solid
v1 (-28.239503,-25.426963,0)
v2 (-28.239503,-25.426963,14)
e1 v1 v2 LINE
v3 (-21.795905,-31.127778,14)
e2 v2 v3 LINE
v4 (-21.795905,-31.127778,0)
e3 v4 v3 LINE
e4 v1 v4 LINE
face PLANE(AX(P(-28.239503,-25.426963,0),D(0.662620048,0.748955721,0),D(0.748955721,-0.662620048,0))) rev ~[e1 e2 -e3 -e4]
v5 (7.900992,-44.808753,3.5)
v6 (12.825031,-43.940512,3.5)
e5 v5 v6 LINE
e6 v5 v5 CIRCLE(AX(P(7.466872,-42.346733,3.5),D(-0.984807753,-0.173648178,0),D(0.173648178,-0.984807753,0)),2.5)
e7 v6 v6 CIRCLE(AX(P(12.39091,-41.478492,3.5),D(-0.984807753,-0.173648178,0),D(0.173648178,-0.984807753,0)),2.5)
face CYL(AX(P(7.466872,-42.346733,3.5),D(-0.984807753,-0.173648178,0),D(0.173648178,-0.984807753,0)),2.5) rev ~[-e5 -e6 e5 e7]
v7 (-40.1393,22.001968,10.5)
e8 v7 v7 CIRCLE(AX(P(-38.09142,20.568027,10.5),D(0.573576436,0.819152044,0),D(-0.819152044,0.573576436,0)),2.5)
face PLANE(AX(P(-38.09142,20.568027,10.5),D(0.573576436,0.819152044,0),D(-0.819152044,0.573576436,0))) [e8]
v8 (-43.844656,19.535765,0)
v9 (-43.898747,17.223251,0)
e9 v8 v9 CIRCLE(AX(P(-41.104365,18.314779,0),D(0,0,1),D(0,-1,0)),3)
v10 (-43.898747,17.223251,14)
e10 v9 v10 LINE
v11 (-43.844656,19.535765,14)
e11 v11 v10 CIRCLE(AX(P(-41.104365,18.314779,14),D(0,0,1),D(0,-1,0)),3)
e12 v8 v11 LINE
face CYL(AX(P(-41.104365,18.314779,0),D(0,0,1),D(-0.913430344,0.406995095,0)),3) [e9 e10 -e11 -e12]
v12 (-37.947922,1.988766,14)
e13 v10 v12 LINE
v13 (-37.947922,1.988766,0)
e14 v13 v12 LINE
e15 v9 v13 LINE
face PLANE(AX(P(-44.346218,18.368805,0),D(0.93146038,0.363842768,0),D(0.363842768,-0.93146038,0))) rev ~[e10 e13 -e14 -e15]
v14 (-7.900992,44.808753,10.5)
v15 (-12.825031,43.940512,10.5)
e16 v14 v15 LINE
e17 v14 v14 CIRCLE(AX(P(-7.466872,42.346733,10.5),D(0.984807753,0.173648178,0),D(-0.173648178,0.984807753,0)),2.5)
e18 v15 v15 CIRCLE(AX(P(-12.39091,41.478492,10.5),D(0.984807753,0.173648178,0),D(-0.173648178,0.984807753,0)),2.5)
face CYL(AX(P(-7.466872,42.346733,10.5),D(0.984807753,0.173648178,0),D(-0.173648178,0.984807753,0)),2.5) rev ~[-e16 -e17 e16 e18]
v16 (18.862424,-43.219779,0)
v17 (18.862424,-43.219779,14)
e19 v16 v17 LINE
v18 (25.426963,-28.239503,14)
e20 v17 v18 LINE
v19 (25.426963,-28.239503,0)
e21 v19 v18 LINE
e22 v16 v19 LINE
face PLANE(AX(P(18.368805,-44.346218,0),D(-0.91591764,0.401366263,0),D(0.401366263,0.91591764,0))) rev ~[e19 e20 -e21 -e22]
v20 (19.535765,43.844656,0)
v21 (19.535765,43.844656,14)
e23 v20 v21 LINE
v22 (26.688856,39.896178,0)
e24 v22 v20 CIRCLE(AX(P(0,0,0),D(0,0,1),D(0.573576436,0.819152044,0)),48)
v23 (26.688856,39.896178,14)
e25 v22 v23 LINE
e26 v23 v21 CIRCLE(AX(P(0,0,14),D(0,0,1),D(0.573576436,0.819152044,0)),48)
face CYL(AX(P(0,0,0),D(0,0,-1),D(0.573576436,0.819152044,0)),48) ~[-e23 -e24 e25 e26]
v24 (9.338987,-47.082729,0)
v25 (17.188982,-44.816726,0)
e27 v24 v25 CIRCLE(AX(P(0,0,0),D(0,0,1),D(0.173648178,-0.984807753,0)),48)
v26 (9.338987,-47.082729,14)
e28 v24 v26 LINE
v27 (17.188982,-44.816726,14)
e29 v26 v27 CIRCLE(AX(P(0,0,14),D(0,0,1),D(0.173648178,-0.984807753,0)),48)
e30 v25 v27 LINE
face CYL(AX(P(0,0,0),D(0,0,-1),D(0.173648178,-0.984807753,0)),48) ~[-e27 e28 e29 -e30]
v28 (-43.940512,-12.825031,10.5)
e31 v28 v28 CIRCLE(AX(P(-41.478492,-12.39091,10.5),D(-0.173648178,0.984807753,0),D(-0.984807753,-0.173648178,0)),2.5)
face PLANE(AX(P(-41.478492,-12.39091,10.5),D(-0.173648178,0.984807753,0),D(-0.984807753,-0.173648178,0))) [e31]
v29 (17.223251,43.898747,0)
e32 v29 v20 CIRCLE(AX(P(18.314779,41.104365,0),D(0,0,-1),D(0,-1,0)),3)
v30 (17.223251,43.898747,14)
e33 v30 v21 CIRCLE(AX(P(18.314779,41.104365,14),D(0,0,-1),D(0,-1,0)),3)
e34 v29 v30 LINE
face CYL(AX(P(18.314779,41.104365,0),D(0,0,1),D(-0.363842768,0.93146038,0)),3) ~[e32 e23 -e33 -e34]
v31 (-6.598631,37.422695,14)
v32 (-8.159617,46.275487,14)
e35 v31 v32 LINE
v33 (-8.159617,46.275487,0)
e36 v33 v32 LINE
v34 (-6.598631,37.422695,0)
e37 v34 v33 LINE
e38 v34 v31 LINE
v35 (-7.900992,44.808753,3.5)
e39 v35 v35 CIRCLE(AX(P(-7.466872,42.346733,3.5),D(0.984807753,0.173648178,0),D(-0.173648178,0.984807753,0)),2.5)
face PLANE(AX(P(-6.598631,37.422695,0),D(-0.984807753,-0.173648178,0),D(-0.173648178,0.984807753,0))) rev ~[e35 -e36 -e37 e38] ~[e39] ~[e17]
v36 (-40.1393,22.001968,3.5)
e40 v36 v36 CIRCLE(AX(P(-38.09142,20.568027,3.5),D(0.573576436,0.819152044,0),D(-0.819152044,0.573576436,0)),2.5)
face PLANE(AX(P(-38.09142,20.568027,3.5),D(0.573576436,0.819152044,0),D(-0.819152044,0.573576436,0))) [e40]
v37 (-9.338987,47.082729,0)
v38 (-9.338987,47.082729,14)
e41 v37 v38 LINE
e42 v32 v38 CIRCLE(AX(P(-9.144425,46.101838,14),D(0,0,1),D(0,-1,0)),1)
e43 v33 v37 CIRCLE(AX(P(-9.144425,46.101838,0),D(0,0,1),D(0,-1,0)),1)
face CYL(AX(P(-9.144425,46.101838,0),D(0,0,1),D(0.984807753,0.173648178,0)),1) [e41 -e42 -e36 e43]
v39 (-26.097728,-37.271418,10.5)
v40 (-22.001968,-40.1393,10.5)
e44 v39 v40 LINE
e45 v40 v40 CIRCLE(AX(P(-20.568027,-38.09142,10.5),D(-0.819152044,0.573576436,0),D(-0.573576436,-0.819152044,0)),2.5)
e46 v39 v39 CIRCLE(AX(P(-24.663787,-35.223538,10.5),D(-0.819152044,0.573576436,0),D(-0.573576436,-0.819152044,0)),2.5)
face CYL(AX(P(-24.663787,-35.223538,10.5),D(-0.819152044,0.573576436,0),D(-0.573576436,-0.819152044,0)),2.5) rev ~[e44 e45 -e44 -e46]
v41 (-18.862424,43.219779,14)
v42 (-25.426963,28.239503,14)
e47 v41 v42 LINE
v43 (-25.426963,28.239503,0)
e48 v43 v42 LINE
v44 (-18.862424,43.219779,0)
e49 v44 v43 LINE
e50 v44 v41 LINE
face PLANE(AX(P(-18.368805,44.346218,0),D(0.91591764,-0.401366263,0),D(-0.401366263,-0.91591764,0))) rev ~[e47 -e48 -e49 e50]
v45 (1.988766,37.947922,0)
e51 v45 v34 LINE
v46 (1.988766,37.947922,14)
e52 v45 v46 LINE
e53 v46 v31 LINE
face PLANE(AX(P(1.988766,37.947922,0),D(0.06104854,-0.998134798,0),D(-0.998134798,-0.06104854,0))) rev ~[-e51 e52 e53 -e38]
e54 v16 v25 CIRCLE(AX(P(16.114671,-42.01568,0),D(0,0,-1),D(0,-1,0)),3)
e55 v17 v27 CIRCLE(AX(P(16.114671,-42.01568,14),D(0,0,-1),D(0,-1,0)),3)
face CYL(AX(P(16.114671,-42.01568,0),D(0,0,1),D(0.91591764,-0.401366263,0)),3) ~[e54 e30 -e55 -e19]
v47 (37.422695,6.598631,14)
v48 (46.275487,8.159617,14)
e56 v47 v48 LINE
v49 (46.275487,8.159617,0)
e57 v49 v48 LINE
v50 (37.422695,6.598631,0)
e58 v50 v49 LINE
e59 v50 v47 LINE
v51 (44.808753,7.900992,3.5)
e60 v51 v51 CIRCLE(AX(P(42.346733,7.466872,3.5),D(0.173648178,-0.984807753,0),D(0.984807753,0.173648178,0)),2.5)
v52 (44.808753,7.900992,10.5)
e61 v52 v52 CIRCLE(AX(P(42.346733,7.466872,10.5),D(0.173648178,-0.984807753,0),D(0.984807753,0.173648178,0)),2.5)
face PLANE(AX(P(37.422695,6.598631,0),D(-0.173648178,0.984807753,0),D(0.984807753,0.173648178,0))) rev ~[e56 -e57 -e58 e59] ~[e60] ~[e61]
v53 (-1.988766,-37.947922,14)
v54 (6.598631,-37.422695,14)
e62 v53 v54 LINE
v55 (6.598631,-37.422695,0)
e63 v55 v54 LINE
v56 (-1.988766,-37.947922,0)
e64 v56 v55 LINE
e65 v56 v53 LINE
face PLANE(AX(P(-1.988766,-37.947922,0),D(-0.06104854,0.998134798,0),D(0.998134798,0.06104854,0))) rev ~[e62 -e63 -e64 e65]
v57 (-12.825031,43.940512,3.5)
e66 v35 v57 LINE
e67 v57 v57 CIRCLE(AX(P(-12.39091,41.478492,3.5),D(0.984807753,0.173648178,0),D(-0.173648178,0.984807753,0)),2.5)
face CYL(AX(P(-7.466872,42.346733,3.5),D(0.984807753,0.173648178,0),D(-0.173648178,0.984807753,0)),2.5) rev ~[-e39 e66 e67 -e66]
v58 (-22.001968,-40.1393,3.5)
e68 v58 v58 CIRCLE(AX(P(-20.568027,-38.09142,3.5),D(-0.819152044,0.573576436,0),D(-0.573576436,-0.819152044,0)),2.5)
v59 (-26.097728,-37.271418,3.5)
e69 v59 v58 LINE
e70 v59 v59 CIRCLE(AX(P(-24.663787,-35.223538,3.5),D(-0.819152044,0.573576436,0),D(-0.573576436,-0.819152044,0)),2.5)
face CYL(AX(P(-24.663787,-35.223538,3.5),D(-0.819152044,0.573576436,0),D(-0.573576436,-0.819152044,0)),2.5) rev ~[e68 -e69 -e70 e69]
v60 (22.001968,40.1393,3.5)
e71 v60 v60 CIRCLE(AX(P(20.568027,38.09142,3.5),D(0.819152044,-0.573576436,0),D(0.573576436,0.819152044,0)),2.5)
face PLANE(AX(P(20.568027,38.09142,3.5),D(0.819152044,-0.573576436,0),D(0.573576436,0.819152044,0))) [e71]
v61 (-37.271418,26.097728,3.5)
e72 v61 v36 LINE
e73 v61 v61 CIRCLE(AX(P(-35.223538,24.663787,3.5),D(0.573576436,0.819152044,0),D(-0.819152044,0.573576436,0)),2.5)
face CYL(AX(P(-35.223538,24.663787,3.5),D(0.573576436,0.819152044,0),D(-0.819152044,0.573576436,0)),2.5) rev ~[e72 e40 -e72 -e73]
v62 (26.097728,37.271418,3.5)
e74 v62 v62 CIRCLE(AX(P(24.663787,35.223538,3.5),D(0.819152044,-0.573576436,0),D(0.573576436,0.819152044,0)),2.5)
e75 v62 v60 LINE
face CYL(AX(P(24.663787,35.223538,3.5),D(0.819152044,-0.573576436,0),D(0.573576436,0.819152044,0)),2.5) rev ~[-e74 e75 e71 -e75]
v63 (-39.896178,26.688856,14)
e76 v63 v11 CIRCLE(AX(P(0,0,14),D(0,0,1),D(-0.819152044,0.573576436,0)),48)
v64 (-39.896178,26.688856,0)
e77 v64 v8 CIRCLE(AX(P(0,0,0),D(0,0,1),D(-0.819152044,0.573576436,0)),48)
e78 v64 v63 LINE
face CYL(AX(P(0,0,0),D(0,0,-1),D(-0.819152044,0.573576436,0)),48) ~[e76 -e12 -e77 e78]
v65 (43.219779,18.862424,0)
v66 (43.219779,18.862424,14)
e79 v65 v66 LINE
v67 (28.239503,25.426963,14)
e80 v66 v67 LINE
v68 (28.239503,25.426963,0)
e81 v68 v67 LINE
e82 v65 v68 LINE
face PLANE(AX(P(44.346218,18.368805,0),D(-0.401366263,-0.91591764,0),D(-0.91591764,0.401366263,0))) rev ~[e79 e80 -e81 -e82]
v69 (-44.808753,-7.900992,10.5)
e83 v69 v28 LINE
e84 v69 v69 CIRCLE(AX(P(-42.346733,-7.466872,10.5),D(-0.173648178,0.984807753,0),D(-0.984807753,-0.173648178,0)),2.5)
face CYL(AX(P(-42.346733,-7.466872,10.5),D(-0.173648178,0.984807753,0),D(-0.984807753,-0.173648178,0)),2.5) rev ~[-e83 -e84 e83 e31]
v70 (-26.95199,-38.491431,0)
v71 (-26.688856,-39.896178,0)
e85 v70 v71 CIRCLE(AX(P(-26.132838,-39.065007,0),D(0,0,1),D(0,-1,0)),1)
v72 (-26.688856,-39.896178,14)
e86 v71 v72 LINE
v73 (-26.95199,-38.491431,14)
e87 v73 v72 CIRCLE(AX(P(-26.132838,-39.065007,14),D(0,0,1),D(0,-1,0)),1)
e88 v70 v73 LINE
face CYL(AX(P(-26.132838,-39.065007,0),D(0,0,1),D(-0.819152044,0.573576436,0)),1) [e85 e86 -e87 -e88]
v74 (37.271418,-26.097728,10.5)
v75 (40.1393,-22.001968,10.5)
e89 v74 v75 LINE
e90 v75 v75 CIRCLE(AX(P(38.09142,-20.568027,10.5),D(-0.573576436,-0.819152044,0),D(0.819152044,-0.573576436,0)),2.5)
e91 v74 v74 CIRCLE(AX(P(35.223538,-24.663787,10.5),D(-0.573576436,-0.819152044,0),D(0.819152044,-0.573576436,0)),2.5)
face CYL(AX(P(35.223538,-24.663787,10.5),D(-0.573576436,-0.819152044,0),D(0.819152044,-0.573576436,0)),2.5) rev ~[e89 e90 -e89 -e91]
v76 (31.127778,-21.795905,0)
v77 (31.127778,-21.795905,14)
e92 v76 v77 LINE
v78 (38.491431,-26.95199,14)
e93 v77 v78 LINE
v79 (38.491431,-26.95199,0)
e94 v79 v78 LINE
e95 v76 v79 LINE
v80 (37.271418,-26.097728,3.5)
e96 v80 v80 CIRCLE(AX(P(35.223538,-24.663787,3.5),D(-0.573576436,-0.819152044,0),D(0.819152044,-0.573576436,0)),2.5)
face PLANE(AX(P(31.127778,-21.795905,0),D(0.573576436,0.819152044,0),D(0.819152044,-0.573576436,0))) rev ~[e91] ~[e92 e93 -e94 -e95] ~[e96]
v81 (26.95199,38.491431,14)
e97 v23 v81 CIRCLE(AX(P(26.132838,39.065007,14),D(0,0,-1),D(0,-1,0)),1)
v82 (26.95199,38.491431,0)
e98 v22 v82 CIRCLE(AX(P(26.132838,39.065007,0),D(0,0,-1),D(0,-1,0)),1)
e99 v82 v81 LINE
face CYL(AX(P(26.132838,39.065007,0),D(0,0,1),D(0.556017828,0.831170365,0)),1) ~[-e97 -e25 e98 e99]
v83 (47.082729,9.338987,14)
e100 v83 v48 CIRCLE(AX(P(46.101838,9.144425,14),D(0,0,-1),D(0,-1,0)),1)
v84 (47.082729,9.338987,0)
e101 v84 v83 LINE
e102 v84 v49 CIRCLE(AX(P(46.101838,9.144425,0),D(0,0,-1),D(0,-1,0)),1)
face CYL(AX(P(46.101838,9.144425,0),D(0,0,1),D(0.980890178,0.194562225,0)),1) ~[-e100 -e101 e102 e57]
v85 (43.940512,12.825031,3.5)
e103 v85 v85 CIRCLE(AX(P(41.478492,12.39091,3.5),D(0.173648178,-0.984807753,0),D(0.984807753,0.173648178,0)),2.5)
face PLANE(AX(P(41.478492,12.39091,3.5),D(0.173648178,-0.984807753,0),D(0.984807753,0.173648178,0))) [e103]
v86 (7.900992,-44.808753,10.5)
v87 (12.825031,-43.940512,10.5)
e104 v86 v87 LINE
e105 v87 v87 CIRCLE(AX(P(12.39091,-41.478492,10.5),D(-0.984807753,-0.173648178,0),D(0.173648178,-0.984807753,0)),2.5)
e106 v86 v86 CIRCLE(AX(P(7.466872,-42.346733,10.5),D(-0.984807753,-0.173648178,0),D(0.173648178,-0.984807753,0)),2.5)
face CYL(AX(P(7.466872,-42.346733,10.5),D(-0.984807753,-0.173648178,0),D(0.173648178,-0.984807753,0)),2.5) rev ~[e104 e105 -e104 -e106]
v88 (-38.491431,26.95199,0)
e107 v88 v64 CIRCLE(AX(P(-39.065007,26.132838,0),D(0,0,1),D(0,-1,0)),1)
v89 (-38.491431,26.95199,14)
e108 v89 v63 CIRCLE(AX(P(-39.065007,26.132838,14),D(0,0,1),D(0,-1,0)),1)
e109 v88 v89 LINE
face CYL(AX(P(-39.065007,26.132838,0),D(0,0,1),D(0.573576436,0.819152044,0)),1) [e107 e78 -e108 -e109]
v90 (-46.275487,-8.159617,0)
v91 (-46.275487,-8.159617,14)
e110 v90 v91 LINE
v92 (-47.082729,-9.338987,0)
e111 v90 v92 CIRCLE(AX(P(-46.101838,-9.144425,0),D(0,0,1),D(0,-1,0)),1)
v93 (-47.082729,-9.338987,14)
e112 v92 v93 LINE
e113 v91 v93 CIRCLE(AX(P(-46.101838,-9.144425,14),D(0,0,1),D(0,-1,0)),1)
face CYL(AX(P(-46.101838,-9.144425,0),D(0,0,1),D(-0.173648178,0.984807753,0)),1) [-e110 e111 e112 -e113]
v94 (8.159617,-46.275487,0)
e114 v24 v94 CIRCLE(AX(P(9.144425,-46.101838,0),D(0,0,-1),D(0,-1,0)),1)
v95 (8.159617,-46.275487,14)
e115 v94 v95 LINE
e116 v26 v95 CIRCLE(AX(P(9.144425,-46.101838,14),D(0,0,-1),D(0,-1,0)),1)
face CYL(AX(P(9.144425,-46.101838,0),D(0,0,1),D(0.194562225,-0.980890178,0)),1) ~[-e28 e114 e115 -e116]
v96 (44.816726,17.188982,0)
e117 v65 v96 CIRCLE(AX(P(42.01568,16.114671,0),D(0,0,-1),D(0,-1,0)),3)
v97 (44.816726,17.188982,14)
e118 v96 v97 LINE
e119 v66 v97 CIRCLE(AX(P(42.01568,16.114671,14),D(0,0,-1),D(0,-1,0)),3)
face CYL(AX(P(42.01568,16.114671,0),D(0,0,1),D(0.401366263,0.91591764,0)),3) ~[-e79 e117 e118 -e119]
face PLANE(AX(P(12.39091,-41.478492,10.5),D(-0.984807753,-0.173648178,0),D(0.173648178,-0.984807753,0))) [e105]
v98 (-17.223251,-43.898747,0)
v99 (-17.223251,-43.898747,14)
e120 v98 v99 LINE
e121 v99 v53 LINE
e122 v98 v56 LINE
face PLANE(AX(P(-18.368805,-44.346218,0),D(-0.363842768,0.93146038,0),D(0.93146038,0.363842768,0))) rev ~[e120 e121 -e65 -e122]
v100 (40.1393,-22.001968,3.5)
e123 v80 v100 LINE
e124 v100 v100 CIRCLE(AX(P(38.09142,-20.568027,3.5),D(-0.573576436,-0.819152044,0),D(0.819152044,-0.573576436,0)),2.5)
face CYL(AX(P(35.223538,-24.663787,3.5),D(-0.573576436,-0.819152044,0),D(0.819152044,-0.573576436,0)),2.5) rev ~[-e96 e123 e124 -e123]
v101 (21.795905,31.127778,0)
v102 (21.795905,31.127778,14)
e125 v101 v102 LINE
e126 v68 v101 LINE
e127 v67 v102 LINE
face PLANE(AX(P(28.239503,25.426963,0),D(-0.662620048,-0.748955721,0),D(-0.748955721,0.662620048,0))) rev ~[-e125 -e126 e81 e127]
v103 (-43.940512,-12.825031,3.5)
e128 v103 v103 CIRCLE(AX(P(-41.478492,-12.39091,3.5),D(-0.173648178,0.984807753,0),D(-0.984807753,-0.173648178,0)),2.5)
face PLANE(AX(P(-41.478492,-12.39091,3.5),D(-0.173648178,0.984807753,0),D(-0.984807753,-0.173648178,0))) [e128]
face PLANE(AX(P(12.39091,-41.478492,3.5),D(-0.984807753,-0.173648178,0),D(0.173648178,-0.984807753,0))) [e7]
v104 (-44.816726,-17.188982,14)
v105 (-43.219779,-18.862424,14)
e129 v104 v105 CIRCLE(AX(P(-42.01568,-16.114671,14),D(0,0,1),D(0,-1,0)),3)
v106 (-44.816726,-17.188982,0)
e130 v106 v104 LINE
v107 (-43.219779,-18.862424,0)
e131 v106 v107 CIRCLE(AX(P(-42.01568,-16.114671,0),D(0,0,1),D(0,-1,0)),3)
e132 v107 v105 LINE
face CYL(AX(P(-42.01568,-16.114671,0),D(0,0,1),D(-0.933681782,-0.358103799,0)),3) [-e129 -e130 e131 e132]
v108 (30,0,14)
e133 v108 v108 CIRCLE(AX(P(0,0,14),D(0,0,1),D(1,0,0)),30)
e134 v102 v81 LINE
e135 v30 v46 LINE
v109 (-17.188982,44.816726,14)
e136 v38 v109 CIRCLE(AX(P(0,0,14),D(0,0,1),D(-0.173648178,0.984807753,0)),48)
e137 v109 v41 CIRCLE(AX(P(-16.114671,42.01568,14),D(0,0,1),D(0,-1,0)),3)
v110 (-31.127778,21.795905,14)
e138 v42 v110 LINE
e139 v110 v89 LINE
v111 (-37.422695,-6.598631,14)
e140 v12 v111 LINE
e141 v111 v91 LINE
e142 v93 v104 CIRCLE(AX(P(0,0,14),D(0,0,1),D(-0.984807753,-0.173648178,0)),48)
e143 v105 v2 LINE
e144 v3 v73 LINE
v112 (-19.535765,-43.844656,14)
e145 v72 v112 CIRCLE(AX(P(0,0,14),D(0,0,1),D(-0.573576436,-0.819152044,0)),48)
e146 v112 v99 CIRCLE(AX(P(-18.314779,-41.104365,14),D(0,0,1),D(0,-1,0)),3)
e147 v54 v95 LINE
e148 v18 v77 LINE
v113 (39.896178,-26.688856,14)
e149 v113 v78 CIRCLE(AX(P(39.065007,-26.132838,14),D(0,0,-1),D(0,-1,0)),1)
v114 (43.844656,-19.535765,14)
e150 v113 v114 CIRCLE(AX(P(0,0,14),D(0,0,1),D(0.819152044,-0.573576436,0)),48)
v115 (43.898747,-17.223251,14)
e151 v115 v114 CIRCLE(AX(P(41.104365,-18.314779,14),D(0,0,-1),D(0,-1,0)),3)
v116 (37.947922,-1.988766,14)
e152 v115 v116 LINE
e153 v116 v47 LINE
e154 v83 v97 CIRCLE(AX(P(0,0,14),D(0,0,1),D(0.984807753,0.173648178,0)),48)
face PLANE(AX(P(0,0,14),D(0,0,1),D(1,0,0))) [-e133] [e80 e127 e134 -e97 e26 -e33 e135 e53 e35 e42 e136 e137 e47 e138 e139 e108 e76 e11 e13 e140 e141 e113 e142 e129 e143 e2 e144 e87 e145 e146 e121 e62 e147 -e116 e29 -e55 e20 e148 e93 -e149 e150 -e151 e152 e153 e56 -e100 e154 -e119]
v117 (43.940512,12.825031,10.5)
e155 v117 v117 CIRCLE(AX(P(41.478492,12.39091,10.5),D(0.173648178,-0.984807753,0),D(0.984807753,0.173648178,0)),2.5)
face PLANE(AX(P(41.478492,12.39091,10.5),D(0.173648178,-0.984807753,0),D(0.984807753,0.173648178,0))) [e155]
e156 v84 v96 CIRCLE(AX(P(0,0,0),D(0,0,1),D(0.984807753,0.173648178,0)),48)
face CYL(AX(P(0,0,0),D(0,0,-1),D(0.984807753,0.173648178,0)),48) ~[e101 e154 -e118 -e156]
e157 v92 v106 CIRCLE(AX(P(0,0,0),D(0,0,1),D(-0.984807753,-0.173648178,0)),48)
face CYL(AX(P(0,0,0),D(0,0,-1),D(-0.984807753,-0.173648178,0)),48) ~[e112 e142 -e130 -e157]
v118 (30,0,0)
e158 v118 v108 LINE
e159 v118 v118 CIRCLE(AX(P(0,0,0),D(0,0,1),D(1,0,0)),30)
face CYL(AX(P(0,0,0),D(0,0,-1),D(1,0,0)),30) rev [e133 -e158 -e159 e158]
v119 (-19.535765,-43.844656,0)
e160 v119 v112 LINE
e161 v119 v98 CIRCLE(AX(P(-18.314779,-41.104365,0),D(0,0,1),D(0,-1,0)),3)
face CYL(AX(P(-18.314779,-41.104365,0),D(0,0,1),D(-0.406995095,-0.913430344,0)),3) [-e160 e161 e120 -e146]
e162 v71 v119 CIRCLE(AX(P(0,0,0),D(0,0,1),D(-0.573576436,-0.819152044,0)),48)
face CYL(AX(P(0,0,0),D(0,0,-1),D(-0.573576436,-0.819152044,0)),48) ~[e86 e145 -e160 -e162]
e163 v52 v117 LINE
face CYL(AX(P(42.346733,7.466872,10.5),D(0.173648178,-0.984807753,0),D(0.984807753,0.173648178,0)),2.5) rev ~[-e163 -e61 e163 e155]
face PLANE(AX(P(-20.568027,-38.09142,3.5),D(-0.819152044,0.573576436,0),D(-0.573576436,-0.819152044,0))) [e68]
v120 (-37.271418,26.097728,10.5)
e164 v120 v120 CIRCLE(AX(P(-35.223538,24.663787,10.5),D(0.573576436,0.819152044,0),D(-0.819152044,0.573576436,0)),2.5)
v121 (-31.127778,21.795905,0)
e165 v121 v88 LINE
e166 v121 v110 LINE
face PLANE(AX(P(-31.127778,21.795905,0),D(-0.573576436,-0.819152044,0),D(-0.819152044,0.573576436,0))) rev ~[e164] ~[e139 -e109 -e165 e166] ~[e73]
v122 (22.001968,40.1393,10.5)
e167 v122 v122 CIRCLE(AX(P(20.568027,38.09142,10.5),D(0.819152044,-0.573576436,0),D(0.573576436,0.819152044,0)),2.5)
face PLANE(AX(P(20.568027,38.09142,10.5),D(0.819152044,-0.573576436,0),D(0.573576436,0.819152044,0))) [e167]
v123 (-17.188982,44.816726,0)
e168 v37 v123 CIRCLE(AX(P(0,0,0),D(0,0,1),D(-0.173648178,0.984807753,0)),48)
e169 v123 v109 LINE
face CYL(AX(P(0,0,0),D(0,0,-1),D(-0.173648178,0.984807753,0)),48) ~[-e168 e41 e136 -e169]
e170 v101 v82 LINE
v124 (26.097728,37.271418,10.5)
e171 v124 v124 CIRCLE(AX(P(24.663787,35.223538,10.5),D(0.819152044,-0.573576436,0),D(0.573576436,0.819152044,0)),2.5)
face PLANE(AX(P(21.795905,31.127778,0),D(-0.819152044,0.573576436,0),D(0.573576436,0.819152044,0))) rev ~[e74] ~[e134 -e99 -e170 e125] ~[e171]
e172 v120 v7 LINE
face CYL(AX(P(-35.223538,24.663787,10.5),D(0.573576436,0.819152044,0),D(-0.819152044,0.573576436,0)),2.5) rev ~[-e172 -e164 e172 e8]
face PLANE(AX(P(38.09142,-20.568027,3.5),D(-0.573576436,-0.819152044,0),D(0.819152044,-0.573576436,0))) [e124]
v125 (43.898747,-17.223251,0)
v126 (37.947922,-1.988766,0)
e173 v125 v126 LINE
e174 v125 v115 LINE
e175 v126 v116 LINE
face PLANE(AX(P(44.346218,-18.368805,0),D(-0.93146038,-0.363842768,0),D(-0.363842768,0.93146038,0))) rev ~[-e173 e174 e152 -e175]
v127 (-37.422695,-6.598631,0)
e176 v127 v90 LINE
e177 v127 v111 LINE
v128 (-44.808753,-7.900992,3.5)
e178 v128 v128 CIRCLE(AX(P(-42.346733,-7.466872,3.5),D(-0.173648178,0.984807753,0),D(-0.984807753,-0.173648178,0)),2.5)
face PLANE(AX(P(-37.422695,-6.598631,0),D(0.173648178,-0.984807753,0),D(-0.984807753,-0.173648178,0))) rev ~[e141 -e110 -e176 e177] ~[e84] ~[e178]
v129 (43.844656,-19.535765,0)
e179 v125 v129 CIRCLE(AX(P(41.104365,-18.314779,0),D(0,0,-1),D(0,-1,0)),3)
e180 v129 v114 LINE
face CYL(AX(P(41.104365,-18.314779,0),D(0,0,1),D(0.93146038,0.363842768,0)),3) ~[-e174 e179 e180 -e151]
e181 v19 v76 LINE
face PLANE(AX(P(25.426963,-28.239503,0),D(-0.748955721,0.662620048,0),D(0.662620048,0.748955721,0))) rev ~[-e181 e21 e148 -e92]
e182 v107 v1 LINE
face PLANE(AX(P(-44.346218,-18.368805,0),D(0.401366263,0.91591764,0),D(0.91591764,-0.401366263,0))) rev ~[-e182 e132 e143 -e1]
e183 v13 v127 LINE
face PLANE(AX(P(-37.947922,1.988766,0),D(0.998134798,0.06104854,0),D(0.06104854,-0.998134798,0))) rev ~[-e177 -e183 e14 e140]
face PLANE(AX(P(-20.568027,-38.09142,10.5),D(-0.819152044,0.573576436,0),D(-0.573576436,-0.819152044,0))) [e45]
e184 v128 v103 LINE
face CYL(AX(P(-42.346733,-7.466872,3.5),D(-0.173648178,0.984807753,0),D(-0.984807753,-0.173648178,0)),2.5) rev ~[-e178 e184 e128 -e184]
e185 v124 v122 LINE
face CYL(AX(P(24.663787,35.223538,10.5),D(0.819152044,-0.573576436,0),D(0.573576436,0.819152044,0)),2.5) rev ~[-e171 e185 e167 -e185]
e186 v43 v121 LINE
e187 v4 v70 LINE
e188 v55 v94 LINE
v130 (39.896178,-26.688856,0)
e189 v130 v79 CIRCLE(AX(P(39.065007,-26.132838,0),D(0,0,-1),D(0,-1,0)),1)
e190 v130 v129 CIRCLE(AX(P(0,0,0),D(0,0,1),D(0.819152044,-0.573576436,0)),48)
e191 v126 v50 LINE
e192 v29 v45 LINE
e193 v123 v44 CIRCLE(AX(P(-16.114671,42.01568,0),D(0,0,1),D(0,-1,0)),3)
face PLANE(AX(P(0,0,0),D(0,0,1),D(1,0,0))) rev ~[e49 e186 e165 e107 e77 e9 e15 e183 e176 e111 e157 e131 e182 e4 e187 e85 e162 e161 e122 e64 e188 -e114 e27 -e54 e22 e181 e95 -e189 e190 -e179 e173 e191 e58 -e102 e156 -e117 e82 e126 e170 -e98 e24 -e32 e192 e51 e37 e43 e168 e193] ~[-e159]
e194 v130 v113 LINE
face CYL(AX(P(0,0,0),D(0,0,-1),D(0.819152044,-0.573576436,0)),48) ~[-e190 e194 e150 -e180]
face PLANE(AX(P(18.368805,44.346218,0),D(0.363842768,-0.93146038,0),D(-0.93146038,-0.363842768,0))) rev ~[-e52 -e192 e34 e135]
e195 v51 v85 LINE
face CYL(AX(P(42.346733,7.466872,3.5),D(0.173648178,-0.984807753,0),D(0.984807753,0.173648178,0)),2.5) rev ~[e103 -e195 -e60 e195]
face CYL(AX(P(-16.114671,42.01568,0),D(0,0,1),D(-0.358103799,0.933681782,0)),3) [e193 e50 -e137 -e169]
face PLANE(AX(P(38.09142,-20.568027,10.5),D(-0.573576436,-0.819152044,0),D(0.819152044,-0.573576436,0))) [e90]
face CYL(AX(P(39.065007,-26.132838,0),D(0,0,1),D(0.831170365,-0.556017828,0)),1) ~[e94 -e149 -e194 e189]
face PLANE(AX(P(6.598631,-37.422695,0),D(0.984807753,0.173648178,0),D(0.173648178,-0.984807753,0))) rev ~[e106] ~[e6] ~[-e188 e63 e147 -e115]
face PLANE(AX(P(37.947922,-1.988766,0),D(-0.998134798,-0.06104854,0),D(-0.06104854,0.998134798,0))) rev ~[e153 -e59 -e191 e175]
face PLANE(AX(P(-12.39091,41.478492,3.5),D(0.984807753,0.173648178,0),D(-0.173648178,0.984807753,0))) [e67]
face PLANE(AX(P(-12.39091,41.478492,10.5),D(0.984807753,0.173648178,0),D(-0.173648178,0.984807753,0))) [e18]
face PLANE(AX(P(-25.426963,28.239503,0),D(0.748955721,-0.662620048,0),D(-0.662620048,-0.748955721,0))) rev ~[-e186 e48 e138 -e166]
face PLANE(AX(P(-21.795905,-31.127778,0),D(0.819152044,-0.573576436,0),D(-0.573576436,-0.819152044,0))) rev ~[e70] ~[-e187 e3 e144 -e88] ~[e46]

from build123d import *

# Parameters (mm, degrees)
SKETCH1_R           = 35
SKETCH1_R_2         = 30
BOSS_EXTRUDE2_DEPTH = 14
FILLET1_R           = 3
FILLET2_R           = 3
FILLET3_R           = 1
SKETCH2_R           = 2.5
CUT_EXTRUDE1_DEPTH  = 5
CIRPATTERN3_COUNT   = 8


with BuildPart() as part:
    # Sketch1 → Boss-Extrude2 (new body)
    # profile 1 of 2: a face of its own
    with BuildSketch(Plane.XY):
        with BuildLine():
            Line((-6.598630751, 37.422694614), (-8.335112528, 47.270772145))
            ThreePointArc((-8.335112528, 47.270772145), (-13.431792673, 46.082393011), (-18.368804754, 44.346217561))
            Line((-18.368804754, 44.346217561), (-25.426963042, 28.239503368))
            Line((-25.426963042, 28.239503368), (-31.127777683, 21.795904581))
            Line((-31.127777683, 21.795904581), (-39.319298126, 27.531668945))
            ThreePointArc((-39.319298126, 27.531668945), (-42.082884274, 23.087460908), (-44.346217561, 18.368804754))
            Line((-44.346217561, 18.368804754), (-37.947922321, 1.988766337))
            Line((-37.947922321, 1.988766337), (-37.422694614, -6.598630751))
            Line((-37.422694614, -6.598630751), (-47.270772145, -8.335112528))
            ThreePointArc((-47.270772145, -8.335112528), (-46.082393011, -13.431792673), (-44.346217561, -18.368804754))
            Line((-44.346217561, -18.368804754), (-28.239503368, -25.426963042))
            Line((-28.239503368, -25.426963042), (-21.795904581, -31.127777683))
            Line((-21.795904581, -31.127777683), (-27.531668945, -39.319298126))
            ThreePointArc((-27.531668945, -39.319298126), (-23.087460908, -42.082884274), (-18.368804754, -44.346217561))
            Line((-18.368804754, -44.346217561), (-1.988766337, -37.947922321))
            Line((-1.988766337, -37.947922321), (6.598630751, -37.422694614))
            Line((6.598630751, -37.422694614), (8.335112528, -47.270772145))
            ThreePointArc((8.335112528, -47.270772145), (13.431792673, -46.082393011), (18.368804754, -44.346217561))
            Line((18.368804754, -44.346217561), (25.426963042, -28.239503368))
            Line((25.426963042, -28.239503368), (31.127777683, -21.795904581))
            Line((31.127777683, -21.795904581), (39.319298126, -27.531668945))
            ThreePointArc((39.319298126, -27.531668945), (42.082884274, -23.087460908), (44.346217561, -18.368804754))
            Line((44.346217561, -18.368804754), (37.947922321, -1.988766337))
            Line((37.947922321, -1.988766337), (37.422694614, 6.598630751))
            Line((37.422694614, 6.598630751), (47.270772145, 8.335112528))
            ThreePointArc((47.270772145, 8.335112528), (46.082393011, 13.431792673), (44.346217561, 18.368804754))
            Line((44.346217561, 18.368804754), (28.239503368, 25.426963042))
            Line((28.239503368, 25.426963042), (21.795904581, 31.127777683))
            Line((21.795904581, 31.127777683), (27.531668945, 39.319298126))
            ThreePointArc((27.531668945, 39.319298126), (23.087460908, 42.082884274), (18.368804754, 44.346217561))
            Line((18.368804754, 44.346217561), (1.988766337, 37.947922321))
            Line((1.988766337, 37.947922321), (-6.598630751, 37.422694614))
        make_face()
        Circle(SKETCH1_R, mode=Mode.SUBTRACT)
    # profile 2 of 2: a face of its own
    with BuildSketch(Plane.XY):
        Circle(SKETCH1_R)
        Circle(SKETCH1_R_2, mode=Mode.SUBTRACT)
    extrude(amount=BOSS_EXTRUDE2_DEPTH)

    # Fillet1
    fillet1_edges = [part.edges().sort_by_distance(p)[0] for p in [
        (-18.368804754, 44.346217561, 7),
    ]]
    fillet(fillet1_edges, radius=FILLET1_R)

    # Fillet2
    fillet2_edges = [part.edges().sort_by_distance(p)[0] for p in [
        (44.346217561, -18.368804754, 7),
        (18.368804754, -44.346217561, 7),
        (-18.368804754, -44.346217561, 7),
        (-44.346217561, -18.368804754, 7),
        (-44.346217561, 18.368804754, 7),
        (18.368804754, 44.346217561, 7),
        (44.346217561, 18.368804754, 7),
    ]]
    fillet(fillet2_edges, radius=FILLET2_R)

    # Fillet3
    fillet3_edges = [part.edges().sort_by_distance(p)[0] for p in [
        (39.319298126, -27.531668945, 7),
        (8.335112528, -47.270772145, 7),
        (-27.531668945, -39.319298126, 7),
        (-47.270772145, -8.335112528, 7),
        (-39.319298126, 27.531668945, 7),
        (-8.335112528, 47.270772145, 7),
        (27.531668945, 39.319298126, 7),
        (47.270772145, 8.335112528, 7),
    ]]
    fillet(fillet3_edges, radius=FILLET3_R)

    # Sketch2 → Cut-Extrude1 (cut)
    with BuildSketch(Plane(origin=(0, 0, 0), x_dir=(0, 0, -1), z_dir=(0.8191520442889921, -0.5735764363510456, 0))):
        with Locations(Location((-3.5, 43, 0), (0, 0, 90))):
            Circle(SKETCH2_R)
        with Locations(Location((-10.5, 43, 0), (0, 0, 90))):
            Circle(SKETCH2_R)
    cut_extrude1 = extrude(amount=-CUT_EXTRUDE1_DEPTH, mode=Mode.SUBTRACT)

    # CirPattern3: Cut-Extrude1 ×8 about axis
    cirpattern3_axis = Axis((0, 0, 0), (0, 0, 1))
    for i in range(1, CIRPATTERN3_COUNT):
        add(cut_extrude1.rotate(cirpattern3_axis, i * 360 / CIRPATTERN3_COUNT), mode=Mode.SUBTRACT)


solid = part.part
